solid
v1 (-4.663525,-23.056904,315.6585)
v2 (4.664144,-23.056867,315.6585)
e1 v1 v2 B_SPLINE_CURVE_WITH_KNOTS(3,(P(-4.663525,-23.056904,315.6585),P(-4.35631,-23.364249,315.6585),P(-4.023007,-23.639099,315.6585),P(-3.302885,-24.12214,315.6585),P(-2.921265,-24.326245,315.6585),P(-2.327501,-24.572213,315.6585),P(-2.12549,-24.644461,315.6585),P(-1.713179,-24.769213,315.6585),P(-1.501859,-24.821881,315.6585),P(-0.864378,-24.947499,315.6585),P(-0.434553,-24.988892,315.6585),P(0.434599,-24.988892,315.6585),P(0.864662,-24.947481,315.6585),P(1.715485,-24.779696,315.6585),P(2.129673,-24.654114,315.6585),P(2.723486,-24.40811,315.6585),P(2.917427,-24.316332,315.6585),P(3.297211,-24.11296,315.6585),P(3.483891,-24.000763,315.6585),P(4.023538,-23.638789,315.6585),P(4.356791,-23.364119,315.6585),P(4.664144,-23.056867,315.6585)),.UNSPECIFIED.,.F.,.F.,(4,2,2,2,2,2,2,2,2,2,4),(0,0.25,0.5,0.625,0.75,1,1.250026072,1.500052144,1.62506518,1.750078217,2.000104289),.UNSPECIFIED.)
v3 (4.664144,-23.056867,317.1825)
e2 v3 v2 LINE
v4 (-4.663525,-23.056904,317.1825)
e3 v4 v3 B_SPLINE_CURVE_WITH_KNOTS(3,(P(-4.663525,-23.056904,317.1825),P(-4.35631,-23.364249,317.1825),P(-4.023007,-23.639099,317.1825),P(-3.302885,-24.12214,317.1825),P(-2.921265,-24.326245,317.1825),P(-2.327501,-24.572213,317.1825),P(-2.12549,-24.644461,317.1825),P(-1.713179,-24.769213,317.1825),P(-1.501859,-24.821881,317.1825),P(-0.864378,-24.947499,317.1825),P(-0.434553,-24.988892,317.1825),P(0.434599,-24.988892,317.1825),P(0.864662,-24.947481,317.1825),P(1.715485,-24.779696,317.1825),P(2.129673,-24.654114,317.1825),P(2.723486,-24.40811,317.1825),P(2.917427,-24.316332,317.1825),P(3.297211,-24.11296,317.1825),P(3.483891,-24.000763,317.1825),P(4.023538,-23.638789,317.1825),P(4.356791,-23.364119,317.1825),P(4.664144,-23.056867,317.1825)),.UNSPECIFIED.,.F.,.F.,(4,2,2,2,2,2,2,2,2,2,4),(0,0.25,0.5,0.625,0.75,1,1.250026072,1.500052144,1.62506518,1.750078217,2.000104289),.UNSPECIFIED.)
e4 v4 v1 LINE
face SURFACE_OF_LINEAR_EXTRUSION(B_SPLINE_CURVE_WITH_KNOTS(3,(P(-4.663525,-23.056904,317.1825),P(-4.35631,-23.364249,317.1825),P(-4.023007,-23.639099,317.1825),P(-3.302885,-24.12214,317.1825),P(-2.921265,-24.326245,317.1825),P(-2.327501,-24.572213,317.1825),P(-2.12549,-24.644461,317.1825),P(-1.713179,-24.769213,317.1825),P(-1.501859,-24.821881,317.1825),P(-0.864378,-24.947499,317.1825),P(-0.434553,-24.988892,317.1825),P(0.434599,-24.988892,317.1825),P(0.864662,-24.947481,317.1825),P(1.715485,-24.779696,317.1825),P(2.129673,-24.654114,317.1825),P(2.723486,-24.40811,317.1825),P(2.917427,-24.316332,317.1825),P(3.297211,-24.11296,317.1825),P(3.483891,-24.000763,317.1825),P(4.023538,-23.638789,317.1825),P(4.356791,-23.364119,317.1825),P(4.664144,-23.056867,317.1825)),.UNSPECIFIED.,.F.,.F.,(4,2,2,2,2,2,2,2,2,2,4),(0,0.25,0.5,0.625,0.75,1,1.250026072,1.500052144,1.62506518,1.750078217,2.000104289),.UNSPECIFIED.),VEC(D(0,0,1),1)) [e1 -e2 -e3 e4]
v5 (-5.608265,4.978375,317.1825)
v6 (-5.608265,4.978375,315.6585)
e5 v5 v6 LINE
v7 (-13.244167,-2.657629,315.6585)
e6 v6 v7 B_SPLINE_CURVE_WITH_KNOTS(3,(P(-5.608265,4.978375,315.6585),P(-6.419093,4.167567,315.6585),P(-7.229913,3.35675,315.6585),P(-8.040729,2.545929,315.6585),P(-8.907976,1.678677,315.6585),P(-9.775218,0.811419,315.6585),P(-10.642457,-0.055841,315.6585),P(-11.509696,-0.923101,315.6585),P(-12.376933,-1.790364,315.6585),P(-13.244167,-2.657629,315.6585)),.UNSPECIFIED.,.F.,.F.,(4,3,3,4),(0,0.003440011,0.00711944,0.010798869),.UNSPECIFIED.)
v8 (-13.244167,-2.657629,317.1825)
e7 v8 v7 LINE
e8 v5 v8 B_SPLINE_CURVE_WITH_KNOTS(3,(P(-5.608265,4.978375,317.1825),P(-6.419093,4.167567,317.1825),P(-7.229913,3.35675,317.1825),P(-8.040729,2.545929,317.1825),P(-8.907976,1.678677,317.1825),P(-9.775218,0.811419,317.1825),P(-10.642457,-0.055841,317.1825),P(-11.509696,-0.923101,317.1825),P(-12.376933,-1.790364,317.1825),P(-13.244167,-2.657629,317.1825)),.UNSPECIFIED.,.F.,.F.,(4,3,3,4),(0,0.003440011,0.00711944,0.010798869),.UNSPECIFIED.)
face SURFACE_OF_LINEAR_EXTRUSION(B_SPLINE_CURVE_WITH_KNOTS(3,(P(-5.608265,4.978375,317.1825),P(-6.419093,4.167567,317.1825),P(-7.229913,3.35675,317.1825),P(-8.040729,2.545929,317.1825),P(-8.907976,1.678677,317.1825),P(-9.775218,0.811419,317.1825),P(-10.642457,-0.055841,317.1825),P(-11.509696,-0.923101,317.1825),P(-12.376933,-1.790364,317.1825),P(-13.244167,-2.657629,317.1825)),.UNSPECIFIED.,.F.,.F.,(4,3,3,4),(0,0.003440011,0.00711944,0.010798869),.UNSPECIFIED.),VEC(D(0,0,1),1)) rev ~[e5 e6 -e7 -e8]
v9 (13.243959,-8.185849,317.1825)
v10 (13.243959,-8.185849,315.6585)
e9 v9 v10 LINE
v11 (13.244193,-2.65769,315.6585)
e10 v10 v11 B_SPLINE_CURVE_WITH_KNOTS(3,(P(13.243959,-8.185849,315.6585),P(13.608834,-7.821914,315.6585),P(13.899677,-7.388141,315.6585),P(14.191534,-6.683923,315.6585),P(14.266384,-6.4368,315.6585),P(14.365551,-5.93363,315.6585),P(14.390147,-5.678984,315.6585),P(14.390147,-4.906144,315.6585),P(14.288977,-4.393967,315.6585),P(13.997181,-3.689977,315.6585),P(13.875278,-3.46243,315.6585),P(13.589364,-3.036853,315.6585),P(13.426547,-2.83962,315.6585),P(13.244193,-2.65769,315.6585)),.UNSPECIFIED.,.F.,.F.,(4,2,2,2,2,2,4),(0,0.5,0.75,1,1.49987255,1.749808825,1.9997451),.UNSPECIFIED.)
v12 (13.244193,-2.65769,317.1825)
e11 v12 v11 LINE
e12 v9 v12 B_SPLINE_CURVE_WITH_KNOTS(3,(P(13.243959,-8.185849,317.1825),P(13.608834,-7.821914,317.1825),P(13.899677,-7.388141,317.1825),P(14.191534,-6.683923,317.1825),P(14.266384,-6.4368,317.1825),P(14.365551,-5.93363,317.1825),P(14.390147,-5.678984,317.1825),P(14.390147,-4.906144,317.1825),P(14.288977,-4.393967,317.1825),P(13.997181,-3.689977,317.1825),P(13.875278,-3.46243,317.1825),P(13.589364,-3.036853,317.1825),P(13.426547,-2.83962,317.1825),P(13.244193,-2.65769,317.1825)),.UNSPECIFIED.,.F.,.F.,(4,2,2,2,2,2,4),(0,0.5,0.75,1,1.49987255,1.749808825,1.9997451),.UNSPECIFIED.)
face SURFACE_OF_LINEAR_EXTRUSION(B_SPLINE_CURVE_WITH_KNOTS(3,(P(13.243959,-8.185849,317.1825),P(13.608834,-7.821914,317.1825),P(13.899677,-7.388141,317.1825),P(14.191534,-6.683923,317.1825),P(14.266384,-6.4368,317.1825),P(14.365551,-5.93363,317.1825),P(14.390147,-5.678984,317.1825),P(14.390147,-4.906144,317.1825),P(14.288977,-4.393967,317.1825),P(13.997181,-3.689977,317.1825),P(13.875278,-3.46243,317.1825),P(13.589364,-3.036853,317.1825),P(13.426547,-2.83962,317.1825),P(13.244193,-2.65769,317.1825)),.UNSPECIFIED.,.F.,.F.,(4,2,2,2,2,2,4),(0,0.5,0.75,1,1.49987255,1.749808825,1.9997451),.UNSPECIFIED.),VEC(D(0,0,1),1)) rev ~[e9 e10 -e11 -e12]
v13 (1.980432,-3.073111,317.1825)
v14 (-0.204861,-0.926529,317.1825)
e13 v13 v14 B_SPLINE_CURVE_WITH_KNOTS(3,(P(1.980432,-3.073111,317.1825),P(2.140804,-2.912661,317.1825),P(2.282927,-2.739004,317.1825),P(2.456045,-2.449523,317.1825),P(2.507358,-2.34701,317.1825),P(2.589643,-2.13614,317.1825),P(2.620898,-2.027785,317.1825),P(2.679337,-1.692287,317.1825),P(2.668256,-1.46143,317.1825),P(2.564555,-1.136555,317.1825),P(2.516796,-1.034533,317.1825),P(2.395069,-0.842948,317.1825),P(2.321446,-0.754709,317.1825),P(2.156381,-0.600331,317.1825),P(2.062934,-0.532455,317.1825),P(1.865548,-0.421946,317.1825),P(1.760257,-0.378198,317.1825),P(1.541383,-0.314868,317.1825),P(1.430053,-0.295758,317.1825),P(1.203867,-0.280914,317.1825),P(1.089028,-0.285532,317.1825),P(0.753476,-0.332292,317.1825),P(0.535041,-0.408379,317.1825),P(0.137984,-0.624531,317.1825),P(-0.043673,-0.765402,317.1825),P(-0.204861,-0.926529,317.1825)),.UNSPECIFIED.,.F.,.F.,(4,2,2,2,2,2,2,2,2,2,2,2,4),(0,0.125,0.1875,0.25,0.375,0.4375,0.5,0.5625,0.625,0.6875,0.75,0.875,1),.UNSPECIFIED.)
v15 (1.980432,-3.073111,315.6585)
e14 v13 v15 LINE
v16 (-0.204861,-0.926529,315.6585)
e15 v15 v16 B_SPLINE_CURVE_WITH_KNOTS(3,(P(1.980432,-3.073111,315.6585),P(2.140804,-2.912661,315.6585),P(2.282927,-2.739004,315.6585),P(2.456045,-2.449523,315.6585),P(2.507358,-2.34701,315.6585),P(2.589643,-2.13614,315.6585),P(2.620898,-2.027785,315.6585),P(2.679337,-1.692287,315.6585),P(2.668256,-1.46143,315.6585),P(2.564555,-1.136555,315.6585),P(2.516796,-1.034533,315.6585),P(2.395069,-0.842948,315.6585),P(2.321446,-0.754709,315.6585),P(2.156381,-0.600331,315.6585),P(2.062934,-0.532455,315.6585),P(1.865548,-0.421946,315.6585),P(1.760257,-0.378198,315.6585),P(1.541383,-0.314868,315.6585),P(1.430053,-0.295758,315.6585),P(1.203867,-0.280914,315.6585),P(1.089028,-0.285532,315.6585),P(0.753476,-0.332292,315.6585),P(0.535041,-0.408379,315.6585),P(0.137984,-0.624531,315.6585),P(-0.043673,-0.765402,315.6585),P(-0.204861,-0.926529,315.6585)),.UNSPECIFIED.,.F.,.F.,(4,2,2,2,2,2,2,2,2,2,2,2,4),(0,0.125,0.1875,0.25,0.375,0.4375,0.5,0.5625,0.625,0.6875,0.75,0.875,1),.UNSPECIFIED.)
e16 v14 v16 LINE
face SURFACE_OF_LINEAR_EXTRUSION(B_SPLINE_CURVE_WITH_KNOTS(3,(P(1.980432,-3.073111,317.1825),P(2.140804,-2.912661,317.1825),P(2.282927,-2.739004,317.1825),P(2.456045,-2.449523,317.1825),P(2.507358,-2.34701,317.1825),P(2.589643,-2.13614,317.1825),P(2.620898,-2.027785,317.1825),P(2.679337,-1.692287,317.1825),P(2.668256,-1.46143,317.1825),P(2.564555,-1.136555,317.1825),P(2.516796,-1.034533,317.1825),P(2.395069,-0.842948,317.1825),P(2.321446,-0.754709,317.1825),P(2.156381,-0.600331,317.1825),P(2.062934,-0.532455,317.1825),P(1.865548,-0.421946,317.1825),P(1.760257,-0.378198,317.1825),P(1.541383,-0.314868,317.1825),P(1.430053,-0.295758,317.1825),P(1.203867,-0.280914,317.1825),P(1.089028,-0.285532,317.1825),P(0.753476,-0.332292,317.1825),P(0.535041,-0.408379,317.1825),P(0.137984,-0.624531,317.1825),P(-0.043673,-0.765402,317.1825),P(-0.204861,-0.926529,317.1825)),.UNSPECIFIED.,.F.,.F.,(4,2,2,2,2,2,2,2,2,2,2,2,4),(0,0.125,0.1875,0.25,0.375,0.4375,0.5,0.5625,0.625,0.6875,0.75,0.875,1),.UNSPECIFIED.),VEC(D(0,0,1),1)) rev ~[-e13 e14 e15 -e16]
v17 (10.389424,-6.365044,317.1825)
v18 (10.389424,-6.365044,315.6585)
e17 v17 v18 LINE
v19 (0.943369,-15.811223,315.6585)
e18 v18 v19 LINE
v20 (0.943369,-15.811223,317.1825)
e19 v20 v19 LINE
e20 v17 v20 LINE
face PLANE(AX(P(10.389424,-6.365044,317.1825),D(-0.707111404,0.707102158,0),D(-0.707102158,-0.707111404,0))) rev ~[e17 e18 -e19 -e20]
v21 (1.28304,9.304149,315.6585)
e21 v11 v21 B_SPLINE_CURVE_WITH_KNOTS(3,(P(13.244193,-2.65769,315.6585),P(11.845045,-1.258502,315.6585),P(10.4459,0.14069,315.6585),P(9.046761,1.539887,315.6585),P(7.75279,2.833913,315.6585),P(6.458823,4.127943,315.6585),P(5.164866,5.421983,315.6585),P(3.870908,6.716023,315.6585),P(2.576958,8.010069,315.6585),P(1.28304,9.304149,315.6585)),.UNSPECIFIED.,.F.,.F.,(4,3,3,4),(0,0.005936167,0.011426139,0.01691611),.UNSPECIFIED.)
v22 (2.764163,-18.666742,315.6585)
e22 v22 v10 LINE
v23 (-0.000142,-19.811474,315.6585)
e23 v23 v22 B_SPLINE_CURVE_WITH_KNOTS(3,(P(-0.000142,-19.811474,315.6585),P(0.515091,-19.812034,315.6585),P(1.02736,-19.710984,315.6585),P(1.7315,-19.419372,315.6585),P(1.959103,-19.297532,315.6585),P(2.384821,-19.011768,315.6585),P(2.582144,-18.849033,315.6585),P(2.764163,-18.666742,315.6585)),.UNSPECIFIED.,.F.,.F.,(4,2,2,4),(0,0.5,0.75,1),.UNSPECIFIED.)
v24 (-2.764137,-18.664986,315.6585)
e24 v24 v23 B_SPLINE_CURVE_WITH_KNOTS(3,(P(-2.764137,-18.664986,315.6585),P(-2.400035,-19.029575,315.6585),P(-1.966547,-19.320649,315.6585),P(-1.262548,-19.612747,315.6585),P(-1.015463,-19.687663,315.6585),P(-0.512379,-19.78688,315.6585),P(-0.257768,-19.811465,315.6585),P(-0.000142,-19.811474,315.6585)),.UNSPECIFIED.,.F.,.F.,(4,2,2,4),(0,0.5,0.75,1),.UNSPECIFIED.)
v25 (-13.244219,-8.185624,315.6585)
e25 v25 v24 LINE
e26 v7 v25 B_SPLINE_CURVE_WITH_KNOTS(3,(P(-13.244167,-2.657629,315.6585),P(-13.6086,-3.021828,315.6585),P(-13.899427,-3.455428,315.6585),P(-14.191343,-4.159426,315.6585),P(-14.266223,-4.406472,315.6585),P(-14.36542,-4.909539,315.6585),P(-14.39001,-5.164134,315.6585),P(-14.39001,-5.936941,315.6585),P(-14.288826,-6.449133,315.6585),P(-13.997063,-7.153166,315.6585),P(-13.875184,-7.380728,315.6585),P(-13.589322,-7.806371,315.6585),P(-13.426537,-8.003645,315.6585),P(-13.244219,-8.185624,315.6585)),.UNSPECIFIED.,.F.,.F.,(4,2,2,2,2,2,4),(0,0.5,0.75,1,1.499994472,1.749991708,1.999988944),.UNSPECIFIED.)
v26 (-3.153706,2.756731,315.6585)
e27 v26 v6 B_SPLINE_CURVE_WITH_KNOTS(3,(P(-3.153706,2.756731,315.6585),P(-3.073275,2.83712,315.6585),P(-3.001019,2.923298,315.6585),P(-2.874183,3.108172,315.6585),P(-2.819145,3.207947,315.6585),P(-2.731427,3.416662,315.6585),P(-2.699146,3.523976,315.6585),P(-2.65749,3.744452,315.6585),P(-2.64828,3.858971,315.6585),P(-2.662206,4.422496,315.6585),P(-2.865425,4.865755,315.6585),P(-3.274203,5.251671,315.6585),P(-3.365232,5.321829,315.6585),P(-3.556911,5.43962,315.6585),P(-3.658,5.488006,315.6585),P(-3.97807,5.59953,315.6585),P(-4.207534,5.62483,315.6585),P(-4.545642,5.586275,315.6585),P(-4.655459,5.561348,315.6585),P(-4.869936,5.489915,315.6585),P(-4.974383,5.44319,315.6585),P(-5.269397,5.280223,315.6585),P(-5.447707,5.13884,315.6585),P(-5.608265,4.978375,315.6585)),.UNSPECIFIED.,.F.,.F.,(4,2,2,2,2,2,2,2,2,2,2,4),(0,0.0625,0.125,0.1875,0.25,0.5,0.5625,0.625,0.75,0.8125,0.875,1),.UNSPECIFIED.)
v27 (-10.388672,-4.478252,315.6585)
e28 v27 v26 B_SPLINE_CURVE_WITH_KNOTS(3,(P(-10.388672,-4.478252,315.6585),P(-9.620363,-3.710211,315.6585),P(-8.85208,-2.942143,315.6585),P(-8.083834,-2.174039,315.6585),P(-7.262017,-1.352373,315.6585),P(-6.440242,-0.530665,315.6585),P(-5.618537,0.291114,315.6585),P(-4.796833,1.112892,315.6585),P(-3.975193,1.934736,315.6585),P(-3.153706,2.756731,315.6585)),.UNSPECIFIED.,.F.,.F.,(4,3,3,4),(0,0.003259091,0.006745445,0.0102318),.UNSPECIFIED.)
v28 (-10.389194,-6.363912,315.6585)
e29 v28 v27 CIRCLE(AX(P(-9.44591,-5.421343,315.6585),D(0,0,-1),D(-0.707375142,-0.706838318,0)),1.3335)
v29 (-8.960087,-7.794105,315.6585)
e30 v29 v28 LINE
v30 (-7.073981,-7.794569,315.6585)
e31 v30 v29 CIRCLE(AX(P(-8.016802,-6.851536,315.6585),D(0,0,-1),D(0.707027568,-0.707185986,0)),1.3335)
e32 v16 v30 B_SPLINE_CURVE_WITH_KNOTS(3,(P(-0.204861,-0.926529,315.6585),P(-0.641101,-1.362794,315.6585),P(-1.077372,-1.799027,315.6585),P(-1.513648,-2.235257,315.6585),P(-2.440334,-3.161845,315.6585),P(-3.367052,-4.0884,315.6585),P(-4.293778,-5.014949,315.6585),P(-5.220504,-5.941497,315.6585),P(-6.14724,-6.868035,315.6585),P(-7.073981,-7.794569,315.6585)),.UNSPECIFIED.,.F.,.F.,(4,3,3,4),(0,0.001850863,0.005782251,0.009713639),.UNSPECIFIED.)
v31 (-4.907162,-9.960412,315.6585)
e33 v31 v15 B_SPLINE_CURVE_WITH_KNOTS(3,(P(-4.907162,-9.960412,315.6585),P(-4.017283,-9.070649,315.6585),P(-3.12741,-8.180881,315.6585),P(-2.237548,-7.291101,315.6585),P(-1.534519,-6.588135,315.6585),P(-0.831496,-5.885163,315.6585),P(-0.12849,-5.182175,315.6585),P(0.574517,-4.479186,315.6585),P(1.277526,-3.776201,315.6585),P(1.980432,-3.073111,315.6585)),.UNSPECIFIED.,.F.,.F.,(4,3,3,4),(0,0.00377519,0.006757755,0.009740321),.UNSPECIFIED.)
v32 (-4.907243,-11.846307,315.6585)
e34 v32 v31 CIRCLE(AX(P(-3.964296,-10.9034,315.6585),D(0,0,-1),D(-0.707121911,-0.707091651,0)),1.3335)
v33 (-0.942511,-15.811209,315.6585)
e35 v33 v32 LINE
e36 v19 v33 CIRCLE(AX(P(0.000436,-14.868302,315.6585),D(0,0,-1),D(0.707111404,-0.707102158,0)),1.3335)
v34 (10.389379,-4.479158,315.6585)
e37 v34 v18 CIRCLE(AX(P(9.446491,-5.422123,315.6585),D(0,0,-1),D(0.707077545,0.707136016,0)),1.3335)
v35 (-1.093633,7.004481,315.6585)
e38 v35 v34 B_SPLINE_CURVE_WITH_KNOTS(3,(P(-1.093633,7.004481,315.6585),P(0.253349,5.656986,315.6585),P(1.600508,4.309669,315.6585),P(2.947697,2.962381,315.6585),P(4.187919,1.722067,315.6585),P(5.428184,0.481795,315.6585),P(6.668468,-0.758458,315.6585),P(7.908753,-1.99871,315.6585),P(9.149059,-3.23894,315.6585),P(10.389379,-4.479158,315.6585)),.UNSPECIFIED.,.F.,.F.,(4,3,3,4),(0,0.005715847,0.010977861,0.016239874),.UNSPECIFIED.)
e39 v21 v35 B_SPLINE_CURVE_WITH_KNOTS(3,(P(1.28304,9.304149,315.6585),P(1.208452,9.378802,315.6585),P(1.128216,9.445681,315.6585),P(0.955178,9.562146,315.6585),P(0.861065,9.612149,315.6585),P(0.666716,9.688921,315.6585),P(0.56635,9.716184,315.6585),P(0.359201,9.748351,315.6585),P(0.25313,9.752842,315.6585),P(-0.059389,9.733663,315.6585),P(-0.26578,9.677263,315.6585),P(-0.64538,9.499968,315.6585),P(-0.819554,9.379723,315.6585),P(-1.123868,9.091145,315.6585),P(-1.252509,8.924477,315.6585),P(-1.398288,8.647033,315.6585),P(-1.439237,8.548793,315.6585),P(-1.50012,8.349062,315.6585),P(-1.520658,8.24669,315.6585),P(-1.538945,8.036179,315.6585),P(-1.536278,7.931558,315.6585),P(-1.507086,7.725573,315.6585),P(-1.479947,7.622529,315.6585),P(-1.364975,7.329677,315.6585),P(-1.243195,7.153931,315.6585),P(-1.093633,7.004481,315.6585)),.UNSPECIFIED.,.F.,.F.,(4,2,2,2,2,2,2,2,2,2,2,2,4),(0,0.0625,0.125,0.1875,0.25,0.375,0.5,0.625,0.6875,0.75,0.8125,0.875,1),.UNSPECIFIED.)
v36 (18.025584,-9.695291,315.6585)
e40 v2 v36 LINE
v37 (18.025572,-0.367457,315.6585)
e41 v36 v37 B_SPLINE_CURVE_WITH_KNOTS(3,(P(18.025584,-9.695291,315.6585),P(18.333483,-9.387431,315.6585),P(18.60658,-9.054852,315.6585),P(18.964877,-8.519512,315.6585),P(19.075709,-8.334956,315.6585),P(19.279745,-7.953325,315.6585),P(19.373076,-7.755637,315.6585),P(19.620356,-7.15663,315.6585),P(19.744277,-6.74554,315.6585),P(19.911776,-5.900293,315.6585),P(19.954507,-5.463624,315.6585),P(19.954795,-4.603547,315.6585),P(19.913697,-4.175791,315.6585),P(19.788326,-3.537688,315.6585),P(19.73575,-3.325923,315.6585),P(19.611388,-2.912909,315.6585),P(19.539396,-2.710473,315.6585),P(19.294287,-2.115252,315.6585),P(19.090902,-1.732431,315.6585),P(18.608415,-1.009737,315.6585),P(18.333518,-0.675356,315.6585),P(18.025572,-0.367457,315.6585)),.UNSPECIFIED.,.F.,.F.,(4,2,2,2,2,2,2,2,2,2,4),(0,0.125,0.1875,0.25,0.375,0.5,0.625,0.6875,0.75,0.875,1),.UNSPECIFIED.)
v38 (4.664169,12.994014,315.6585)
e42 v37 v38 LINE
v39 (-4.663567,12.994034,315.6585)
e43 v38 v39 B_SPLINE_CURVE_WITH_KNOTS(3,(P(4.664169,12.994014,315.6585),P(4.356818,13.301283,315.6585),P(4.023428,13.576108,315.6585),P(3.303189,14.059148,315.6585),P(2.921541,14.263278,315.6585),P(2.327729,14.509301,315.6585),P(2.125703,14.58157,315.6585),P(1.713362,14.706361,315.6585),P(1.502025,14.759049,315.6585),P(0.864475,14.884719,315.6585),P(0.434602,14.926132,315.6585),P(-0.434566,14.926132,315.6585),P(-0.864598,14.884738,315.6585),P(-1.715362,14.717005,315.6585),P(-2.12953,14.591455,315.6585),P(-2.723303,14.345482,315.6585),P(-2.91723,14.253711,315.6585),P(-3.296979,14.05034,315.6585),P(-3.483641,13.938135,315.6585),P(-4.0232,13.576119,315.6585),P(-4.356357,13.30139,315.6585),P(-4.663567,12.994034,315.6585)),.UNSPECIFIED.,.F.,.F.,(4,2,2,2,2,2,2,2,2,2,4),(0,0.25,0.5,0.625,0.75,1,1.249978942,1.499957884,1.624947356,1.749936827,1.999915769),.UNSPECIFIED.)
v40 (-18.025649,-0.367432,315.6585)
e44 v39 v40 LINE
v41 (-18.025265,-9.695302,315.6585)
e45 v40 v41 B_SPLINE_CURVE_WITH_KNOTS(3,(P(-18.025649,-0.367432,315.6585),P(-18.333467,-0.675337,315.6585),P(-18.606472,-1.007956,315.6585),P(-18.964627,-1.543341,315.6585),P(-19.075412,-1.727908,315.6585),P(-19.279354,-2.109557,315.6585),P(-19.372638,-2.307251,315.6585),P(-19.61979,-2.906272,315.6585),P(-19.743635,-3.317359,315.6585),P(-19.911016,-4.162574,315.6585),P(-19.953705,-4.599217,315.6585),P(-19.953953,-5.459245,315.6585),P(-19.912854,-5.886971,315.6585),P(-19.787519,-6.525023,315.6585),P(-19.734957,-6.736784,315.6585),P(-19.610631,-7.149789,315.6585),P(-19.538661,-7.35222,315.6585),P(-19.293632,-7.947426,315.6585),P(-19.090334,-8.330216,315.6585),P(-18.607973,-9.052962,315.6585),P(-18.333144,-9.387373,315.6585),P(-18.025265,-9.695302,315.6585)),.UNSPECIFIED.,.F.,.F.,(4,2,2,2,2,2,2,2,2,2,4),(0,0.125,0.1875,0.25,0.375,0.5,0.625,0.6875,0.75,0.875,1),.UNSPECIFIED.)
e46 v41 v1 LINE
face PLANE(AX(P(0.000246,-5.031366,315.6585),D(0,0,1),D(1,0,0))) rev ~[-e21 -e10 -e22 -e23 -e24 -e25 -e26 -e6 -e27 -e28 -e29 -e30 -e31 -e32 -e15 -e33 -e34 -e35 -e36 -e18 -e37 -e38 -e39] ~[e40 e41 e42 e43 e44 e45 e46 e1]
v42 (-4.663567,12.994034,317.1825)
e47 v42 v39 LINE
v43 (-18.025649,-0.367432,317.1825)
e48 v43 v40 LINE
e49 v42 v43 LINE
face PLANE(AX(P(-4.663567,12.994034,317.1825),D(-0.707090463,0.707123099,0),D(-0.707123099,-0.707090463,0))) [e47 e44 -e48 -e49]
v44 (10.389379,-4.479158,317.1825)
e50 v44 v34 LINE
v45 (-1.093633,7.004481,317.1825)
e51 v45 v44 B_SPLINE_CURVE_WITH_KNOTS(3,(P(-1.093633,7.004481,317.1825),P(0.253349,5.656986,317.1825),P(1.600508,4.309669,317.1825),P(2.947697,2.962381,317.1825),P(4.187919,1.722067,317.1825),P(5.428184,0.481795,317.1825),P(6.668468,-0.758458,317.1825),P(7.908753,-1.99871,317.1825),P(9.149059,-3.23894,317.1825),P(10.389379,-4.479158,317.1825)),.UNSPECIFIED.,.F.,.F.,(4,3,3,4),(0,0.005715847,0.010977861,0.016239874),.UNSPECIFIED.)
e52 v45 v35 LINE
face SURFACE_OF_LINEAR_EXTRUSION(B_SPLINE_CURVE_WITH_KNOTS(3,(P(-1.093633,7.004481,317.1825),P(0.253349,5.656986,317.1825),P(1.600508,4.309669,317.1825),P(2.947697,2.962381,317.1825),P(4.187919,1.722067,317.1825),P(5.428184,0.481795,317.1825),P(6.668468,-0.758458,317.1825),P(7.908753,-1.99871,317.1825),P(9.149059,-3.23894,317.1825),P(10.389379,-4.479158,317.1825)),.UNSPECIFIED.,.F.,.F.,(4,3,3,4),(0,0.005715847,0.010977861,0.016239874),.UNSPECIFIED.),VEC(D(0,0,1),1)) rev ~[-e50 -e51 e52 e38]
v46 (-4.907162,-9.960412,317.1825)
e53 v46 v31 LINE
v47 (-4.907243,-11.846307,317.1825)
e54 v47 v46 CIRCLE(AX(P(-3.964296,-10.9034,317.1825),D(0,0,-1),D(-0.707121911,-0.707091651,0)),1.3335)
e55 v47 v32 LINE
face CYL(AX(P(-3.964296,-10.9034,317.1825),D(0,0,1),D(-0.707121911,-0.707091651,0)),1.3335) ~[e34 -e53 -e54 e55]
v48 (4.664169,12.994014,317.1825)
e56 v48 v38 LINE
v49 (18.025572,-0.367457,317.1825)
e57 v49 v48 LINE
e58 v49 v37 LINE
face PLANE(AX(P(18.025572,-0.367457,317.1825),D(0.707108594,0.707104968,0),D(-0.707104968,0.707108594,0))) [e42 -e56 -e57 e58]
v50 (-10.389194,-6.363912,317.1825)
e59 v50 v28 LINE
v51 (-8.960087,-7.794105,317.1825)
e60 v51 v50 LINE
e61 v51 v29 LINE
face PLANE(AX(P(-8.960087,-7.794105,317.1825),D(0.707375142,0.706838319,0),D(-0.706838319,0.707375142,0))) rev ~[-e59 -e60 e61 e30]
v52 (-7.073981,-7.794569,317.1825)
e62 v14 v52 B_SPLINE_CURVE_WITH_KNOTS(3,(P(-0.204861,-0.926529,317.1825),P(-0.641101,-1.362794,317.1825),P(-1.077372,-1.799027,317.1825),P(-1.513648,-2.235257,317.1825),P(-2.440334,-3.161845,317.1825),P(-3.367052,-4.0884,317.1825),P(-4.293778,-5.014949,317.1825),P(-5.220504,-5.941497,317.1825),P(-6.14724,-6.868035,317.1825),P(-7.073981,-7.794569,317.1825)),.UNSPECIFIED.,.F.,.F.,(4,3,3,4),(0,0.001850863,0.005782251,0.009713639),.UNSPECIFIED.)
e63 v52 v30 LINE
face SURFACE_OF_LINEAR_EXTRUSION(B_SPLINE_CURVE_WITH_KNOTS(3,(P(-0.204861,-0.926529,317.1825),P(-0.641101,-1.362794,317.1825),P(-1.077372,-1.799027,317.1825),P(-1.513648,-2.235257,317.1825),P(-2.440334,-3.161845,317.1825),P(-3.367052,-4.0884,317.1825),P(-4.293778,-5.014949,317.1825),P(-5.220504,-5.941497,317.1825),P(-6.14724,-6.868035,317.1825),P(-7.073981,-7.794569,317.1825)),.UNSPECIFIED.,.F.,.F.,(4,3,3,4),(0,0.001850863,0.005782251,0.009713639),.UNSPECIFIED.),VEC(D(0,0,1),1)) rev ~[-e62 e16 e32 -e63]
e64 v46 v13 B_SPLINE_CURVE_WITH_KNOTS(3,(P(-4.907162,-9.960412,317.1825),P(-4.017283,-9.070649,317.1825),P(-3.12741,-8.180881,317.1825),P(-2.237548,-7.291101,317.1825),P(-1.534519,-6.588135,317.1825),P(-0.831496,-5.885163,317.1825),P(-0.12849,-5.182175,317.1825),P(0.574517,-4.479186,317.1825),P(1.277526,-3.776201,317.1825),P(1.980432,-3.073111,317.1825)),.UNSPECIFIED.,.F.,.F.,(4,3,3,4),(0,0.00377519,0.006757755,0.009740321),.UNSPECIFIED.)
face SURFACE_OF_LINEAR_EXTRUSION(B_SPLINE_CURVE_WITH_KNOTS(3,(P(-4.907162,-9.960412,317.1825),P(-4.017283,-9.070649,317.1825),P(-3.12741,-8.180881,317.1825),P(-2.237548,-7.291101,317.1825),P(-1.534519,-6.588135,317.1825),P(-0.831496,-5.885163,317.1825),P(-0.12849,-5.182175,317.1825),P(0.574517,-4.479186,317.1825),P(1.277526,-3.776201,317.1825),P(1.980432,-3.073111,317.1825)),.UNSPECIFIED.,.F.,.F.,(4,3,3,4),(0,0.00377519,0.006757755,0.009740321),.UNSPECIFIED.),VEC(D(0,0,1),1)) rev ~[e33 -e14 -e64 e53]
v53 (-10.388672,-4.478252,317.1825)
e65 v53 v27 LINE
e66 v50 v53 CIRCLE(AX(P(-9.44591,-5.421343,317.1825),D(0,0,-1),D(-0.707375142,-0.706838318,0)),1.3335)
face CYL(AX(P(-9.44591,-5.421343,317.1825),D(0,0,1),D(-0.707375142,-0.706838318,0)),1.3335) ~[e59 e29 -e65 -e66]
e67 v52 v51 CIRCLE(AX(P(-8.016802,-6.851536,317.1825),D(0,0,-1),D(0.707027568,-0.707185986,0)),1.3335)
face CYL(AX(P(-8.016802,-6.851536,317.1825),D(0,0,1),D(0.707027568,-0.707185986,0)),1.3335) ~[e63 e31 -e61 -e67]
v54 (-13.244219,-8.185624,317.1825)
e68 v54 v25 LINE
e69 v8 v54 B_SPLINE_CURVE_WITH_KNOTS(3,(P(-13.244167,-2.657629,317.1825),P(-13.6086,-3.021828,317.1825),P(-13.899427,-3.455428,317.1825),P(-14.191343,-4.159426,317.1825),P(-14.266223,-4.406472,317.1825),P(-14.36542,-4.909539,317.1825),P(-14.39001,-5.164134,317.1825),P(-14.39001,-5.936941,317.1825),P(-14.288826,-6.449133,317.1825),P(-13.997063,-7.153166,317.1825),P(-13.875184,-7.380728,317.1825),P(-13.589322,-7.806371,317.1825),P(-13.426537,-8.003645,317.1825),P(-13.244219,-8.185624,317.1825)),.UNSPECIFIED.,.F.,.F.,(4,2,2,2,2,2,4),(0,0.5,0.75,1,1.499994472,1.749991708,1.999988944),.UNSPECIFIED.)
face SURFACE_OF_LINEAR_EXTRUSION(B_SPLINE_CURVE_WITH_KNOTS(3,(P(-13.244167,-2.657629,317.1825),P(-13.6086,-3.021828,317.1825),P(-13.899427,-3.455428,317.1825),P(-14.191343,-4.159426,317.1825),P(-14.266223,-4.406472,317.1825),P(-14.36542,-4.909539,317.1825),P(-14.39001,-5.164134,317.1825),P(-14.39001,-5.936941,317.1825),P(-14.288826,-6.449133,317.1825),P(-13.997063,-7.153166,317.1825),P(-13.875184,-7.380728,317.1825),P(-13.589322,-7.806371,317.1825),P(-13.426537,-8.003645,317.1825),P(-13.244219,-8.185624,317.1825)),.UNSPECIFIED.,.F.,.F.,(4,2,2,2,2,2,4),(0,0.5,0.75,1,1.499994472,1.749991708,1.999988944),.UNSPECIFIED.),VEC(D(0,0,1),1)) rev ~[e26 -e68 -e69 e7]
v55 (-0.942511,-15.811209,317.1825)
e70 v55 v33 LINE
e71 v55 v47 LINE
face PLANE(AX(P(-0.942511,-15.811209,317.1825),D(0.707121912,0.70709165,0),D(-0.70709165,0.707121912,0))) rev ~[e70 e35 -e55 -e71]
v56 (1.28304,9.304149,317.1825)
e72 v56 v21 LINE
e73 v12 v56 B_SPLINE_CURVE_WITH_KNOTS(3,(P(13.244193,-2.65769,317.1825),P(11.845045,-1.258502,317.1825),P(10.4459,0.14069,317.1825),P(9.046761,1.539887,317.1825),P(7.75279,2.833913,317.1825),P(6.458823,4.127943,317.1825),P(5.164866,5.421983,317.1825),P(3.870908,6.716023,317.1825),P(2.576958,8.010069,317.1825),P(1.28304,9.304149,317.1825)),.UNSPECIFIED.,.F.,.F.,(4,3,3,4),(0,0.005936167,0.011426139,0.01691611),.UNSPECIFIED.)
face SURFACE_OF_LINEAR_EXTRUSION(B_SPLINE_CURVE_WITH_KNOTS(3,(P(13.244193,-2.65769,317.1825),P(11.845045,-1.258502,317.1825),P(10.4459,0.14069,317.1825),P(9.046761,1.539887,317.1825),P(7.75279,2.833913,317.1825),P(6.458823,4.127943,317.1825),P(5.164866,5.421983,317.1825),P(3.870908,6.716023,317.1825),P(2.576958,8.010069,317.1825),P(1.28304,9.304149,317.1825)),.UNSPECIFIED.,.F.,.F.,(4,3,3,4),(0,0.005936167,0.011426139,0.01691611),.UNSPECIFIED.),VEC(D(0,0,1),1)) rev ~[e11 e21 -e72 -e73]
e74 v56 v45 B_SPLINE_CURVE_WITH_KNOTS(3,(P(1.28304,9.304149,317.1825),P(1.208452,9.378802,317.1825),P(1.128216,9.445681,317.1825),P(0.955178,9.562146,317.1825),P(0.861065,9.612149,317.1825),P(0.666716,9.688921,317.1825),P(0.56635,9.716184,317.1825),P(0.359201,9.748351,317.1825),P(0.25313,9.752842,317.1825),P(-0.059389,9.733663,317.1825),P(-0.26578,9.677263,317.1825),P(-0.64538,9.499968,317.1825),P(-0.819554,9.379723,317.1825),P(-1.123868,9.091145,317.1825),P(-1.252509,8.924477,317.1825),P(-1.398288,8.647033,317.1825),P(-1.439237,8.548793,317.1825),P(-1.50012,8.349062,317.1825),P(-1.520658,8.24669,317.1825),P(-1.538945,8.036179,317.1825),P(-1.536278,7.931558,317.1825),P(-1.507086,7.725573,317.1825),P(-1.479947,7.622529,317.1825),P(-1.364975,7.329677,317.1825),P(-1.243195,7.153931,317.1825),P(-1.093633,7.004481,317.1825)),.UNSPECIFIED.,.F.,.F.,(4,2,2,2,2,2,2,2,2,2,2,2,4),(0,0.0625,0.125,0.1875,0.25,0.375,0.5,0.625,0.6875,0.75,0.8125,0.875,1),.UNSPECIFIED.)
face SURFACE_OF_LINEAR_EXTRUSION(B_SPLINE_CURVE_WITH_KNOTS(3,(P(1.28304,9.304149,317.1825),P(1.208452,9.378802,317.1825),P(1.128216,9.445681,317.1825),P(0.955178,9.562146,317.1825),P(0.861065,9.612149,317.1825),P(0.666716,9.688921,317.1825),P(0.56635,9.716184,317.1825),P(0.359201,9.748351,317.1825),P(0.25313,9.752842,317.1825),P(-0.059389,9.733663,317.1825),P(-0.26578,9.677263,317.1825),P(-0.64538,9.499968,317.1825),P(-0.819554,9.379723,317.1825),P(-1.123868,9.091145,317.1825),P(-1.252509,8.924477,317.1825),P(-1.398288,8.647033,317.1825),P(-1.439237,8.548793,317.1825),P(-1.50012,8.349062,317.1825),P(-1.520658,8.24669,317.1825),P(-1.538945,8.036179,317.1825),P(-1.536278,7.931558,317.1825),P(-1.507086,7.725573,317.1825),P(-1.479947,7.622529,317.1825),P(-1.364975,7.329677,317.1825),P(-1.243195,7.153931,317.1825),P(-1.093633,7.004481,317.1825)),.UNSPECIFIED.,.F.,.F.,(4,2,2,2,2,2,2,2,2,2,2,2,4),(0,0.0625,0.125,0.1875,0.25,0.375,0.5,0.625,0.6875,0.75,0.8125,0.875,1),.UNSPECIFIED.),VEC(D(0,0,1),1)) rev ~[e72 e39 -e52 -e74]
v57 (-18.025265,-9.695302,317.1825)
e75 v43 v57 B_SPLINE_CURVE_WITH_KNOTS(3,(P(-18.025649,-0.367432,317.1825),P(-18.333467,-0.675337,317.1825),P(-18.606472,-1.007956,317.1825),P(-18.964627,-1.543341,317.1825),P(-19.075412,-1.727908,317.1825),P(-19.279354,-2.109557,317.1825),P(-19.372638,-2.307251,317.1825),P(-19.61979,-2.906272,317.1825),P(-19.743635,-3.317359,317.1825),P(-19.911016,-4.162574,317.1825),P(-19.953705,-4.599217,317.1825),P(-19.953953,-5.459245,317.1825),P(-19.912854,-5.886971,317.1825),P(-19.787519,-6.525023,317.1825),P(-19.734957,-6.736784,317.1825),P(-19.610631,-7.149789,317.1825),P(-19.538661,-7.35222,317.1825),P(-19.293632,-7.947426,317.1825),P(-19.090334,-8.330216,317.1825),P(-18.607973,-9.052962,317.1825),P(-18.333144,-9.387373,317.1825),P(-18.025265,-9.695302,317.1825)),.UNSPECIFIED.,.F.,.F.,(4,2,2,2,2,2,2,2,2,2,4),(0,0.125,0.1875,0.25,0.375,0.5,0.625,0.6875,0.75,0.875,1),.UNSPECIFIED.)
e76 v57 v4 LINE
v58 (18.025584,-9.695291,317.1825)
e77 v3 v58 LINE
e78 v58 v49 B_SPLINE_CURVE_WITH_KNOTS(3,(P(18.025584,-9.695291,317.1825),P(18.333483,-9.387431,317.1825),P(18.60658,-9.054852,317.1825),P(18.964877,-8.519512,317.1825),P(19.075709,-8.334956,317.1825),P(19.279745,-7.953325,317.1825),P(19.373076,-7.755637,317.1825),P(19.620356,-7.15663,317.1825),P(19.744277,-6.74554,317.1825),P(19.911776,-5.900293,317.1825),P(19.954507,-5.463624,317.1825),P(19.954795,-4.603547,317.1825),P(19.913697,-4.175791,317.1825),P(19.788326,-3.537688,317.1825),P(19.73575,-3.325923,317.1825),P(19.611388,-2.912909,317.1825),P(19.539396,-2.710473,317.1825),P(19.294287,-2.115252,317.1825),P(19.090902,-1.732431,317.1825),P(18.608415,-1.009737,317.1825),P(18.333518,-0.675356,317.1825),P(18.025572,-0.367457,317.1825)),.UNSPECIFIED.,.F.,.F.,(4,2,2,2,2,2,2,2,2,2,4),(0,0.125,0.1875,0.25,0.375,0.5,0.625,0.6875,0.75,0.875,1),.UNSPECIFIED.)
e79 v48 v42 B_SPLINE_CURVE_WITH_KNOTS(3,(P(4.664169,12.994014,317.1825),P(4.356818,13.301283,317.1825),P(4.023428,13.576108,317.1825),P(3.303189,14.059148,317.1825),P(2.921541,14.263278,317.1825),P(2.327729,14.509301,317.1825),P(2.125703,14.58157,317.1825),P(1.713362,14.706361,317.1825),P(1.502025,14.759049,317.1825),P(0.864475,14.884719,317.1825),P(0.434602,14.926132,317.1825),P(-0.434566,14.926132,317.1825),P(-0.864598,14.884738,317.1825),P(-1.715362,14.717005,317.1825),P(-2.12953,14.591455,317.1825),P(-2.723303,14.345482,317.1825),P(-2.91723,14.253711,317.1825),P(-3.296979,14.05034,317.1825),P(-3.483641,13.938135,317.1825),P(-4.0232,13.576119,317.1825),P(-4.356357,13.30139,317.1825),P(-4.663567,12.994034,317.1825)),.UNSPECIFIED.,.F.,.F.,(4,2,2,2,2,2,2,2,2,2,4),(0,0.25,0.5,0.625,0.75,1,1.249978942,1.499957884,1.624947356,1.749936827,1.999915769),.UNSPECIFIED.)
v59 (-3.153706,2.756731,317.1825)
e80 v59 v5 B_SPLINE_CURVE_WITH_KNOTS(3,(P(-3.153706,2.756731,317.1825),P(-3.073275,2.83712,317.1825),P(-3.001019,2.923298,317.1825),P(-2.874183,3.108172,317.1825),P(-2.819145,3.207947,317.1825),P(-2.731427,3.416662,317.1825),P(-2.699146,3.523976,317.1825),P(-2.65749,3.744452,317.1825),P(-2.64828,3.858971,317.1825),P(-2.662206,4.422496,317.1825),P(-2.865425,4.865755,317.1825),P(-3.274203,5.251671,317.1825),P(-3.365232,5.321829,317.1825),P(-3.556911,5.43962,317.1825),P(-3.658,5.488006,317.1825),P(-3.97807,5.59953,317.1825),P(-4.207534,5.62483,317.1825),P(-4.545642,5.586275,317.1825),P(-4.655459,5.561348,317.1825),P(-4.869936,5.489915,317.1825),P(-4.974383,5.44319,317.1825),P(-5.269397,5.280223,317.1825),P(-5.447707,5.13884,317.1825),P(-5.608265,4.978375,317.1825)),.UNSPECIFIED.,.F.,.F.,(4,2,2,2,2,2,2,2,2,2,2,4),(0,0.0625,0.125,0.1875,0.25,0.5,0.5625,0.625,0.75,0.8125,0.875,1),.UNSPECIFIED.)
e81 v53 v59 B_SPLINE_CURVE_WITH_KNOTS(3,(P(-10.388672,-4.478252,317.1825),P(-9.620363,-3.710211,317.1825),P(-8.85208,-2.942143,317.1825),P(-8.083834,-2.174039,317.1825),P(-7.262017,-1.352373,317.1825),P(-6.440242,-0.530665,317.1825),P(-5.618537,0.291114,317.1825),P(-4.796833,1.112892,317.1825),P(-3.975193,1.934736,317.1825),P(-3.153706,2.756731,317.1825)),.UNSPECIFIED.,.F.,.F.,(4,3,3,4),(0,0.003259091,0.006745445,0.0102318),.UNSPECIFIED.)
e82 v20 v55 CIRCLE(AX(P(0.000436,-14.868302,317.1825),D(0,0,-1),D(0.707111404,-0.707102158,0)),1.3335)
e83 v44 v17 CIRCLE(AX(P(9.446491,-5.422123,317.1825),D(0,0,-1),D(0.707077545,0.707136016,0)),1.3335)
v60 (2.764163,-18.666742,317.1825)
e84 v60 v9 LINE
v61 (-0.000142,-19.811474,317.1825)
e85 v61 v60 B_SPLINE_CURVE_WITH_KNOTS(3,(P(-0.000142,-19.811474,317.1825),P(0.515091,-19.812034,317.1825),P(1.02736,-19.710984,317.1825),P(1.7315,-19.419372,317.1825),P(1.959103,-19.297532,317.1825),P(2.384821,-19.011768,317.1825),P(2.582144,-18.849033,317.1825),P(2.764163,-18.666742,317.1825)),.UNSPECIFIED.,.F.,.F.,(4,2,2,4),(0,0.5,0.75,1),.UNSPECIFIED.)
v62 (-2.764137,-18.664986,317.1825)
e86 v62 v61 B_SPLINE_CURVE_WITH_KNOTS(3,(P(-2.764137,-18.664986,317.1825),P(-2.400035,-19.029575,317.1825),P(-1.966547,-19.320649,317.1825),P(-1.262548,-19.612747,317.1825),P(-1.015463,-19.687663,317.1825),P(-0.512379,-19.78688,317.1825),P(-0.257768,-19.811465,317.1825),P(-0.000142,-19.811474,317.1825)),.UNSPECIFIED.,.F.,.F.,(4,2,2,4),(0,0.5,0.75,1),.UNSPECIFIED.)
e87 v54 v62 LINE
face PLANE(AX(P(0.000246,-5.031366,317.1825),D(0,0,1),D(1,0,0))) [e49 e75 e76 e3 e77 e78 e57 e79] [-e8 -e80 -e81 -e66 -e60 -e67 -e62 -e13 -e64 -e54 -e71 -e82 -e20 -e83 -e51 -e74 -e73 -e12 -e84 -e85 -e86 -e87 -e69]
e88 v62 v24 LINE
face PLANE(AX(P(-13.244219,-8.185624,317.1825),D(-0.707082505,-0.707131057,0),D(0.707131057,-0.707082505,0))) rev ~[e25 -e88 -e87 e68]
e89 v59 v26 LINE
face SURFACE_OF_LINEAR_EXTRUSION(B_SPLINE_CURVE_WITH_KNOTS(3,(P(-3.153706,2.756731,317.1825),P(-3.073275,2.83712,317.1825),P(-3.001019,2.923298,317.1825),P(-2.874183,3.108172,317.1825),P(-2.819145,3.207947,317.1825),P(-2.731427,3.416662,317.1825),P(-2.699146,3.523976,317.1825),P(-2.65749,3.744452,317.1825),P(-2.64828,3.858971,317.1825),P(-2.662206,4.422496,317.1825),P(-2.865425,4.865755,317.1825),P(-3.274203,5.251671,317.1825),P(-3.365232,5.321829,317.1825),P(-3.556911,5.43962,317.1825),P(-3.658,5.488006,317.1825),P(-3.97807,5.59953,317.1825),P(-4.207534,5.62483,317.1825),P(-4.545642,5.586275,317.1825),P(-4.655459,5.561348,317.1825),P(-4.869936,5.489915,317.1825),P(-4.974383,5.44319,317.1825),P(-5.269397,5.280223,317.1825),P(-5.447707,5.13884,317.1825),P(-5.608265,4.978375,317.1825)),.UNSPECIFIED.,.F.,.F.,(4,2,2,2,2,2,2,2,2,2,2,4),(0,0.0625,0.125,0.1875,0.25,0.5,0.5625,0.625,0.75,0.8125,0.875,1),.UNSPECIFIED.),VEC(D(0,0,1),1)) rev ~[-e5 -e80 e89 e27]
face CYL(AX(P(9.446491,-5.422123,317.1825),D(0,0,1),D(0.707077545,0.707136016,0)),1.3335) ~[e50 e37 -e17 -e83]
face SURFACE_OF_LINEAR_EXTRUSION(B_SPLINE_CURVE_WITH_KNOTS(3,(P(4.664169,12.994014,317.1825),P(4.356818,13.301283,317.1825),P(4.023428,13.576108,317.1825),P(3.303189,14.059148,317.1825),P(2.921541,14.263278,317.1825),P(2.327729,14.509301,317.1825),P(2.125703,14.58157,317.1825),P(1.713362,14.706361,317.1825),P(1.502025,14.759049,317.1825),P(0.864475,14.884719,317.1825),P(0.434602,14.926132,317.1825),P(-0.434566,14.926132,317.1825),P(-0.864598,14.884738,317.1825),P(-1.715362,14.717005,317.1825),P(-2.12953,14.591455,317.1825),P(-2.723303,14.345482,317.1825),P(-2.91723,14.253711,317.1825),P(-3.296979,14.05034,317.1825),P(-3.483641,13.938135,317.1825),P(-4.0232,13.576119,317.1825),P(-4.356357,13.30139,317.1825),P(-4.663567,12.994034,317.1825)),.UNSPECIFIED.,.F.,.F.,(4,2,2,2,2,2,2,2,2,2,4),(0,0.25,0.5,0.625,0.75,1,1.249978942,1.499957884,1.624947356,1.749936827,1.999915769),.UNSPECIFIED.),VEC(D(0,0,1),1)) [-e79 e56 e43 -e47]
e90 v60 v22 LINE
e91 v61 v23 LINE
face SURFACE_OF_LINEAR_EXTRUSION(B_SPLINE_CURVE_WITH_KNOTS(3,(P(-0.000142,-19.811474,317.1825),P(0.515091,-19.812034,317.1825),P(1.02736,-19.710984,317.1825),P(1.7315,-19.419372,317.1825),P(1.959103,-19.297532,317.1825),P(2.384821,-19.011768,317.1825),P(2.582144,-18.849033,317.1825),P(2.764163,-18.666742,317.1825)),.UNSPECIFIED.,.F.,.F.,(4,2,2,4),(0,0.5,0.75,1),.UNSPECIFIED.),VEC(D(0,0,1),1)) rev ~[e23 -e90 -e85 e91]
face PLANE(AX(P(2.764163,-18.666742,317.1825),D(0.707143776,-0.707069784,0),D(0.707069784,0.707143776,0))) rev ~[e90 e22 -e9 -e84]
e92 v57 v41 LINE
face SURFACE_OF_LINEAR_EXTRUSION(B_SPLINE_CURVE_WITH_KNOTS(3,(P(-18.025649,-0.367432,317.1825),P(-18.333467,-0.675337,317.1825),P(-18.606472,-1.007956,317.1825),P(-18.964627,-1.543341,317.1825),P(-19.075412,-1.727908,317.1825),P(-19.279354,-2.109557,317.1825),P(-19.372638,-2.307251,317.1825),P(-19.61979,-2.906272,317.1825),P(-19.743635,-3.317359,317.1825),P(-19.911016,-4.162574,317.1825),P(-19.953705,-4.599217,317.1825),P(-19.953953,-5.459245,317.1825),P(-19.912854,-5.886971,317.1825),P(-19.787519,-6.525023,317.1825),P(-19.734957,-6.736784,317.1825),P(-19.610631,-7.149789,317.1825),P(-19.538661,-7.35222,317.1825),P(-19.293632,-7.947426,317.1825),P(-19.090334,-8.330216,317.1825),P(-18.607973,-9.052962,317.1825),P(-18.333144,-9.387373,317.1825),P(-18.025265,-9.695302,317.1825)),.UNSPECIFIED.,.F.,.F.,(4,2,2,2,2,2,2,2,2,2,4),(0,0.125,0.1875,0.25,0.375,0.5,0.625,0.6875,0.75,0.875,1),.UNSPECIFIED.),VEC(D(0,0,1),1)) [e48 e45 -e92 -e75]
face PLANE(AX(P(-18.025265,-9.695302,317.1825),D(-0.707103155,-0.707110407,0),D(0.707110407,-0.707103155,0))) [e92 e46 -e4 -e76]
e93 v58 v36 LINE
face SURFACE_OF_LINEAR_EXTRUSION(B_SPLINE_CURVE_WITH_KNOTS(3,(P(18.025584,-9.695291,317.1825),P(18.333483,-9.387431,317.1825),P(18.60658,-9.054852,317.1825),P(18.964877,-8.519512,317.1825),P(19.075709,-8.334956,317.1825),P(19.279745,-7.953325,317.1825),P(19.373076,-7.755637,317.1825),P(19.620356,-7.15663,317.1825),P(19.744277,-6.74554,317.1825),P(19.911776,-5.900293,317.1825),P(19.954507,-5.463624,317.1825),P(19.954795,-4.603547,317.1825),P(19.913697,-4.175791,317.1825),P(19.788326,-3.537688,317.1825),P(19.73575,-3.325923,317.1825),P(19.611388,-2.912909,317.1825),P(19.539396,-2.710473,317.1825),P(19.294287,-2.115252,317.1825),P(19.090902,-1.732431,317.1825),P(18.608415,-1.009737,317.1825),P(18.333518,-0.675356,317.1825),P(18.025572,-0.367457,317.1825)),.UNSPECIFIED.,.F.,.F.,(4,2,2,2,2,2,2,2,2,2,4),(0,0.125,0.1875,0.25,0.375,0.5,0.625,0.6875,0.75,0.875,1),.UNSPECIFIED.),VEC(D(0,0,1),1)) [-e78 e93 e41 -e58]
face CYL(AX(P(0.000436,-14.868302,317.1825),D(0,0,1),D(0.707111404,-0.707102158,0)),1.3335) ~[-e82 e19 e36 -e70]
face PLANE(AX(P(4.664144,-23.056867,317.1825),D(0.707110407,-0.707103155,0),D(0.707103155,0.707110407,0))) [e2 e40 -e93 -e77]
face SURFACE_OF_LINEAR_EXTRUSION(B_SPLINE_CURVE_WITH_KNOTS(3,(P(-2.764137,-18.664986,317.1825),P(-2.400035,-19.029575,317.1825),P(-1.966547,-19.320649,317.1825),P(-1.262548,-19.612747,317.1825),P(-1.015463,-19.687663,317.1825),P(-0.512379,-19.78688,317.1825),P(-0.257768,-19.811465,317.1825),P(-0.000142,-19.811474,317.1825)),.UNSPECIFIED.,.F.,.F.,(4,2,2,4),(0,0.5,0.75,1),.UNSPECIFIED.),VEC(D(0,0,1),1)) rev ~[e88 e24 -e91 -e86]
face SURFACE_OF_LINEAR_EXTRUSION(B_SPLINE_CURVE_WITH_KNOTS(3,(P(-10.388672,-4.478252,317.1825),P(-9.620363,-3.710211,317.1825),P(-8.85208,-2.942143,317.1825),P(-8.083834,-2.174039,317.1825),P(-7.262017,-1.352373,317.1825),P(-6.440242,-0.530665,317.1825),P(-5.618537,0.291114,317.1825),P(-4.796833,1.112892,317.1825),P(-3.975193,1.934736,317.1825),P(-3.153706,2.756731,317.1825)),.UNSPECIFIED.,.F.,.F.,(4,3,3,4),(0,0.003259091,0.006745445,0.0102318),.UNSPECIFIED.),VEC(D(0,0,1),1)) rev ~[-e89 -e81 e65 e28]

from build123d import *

# Parameters (mm, degrees)
INLAY_PROFILE_DEPTH = 1.524


with BuildPart() as part:
    # Sketch1 → Inlay Profile (new body)
    with BuildSketch(Plane.XY.offset(317.1825)):
        with BuildLine():
            Line((18.025571565, -0.367457164), (4.664168889, 12.994014038))
            add(Edge.make_bspline(
                [(4.664168889, 12.994014038), (4.356818389, 13.301283177), (4.023428442, 13.576107861), (3.303188568, 14.059147528), (2.921540553, 14.263277993), (2.327729087, 14.509301237), (2.125703276, 14.581569814), (1.713361811, 14.706360576), (1.502025353, 14.759048678), (0.864474651, 14.884719032), (0.434602166, 14.926131934), (0, 14.926131934)],
                knots=[0, 0, 0, 0, 0.25, 0.25, 0.5, 0.5, 0.625, 0.625, 0.75, 0.75, 1, 1, 1, 1], degree=3))
            add(Edge.make_bspline(
                [(0, 14.926131934), (-0.434565559, 14.926131934), (-0.864598328, 14.884737713), (-1.715362235, 14.717005142), (-2.129530035, 14.591455059), (-2.723303198, 14.345481802), (-2.91723014, 14.253710711), (-3.296979358, 14.050339945), (-3.483640779, 13.938135256), (-4.023200182, 13.576118838), (-4.356357054, 13.301389905), (-4.663566812, 12.994033668)],
                knots=[0, 0, 0, 0, 0.25, 0.25, 0.5, 0.5, 0.625, 0.625, 0.75, 0.75, 1, 1, 1, 1], degree=3))
            Line((-4.663566812, 12.994033668), (-18.025649465, -0.367432276))
            add(Edge.make_bspline(
                [(-18.025649465, -0.367432276), (-18.333467155, -0.67533686), (-18.606471867, -1.007956137), (-18.964627192, -1.543341075), (-19.075411795, -1.727908456), (-19.279353822, -2.109557241), (-19.372638179, -2.307251324), (-19.619790253, -2.906272044), (-19.743635222, -3.317359375), (-19.911015551, -4.162573597), (-19.953704554, -4.599216881), (-19.953952622, -5.459245308), (-19.912854372, -5.886970886), (-19.787519071, -6.525023338), (-19.734956892, -6.736784446), (-19.61063072, -7.149788503), (-19.538661355, -7.352219952), (-19.293631903, -7.947426043), (-19.090333968, -8.330215541), (-18.607972779, -9.052961748), (-18.333143835, -9.387372973), (-18.025264594, -9.695301528)],
                knots=[0, 0, 0, 0, 0.125, 0.125, 0.1875, 0.1875, 0.25, 0.25, 0.375, 0.375, 0.5, 0.5, 0.625, 0.625, 0.6875, 0.6875, 0.75, 0.75, 0.875, 0.875, 1, 1, 1, 1], degree=3))
            Line((-18.025264594, -9.695301528), (-4.663524615, -23.056904469))
            add(Edge.make_bspline(
                [(-4.663524615, -23.056904469), (-4.356310087, -23.364249214), (-4.023007479, -23.63909939), (-3.302884908, -24.122140042), (-2.921265042, -24.326244773), (-2.327500967, -24.572212863), (-2.12549016, -24.644461146), (-1.713179231, -24.769212535), (-1.501858849, -24.82188113), (-0.864378385, -24.94749901), (-0.434553406, -24.988892008), (0, -24.988892008)],
                knots=[0, 0, 0, 0, 0.25, 0.25, 0.5, 0.5, 0.625, 0.625, 0.75, 0.75, 1, 1, 1, 1], degree=3))
            add(Edge.make_bspline(
                [(0, -24.988892008), (0.434598725, -24.988892008), (0.864662427, -24.947480808), (1.715485434, -24.779696058), (2.129672534, -24.65411367), (2.723485659, -24.408109873), (2.917427142, -24.316331785), (3.29721076, -24.112960431), (3.48389071, -24.000763389), (4.02353835, -23.638788642), (4.356791056, -23.364119061), (4.664144191, -23.05686733)],
                knots=[0, 0, 0, 0, 0.25, 0.25, 0.5, 0.5, 0.625, 0.625, 0.75, 0.75, 1, 1, 1, 1], degree=3))
            Line((4.664144191, -23.05686733), (18.025583545, -9.695290931))
            add(Edge.make_bspline(
                [(18.025583545, -9.695290931), (18.333482821, -9.387431146), (18.606580042, -9.054852177), (18.964876906, -8.519511604), (19.07570919, -8.334956341), (19.279745495, -7.953324821), (19.373075727, -7.75563737), (19.620355994, -7.156630228), (19.744276575, -6.745539993), (19.911775941, -5.900292811), (19.954506627, -5.463624258), (19.954794901, -4.60354651), (19.913696633, -4.175791487), (19.788326474, -3.537687683), (19.735750086, -3.325922766), (19.611387505, -2.912908888), (19.539395757, -2.710472584), (19.294286623, -2.115252142), (19.090902314, -1.732430795), (18.608415217, -1.009737255), (18.333518116, -0.67535632), (18.025571565, -0.367457164)],
                knots=[0, 0, 0, 0, 0.125, 0.125, 0.1875, 0.1875, 0.25, 0.25, 0.375, 0.375, 0.5, 0.5, 0.625, 0.625, 0.6875, 0.6875, 0.75, 0.75, 0.875, 0.875, 1, 1, 1, 1], degree=3))
        make_face()
        with BuildLine():
            Line((2.764163115, -18.666741649), (13.243958907, -8.185849192))
            add(Edge.make_bspline(
                [(13.243958907, -8.185849192), (13.608833555, -7.821914197), (13.899676587, -7.388141491), (14.191534414, -6.683923004), (14.266383768, -6.43680018), (14.365551211, -5.933629733), (14.390147378, -5.678984441), (14.390147378, -5.42132701)],
                knots=[0, 0, 0, 0, 0.5, 0.5, 0.75, 0.75, 1, 1, 1, 1], degree=3))
            add(Edge.make_bspline(
                [(14.390147378, -5.42132701), (14.390147378, -4.906143502), (14.288977165, -4.393966558), (13.997180838, -3.689977029), (13.875278396, -3.462430015), (13.589364349, -3.036852796), (13.426546706, -2.839620383), (13.244193351, -2.657689678)],
                knots=[0, 0, 0, 0, 0.5, 0.5, 0.75, 0.75, 1, 1, 1, 1], degree=3))
            add(Edge.make_bspline(
                [(13.244193351, -2.657689678), (11.84504508, -1.258501699), (10.445900405, 0.14068981), (9.046761495, 1.539887083), (7.752789848, 2.833912707), (6.458822874, 4.127943003), (5.164865581, 5.421982981), (3.870908288, 6.716022958), (2.576957547, 8.010069489), (1.283039711, 9.304148919)],
                knots=[0, 0, 0, 0, 0.005936167, 0.005936167, 0.005936167, 0.011426139, 0.011426139, 0.011426139, 0.01691611, 0.01691611, 0.01691611, 0.01691611], degree=3))
            add(Edge.make_bspline(
                [(1.283039711, 9.304148919), (1.208451812, 9.37880166), (1.128215528, 9.445680851), (0.955177572, 9.562146218), (0.861064542, 9.612149298), (0.666716276, 9.688920917), (0.566349911, 9.716183545), (0.359200688, 9.74835085), (0.253130484, 9.752841938), (-0.059388996, 9.733662582), (-0.265779648, 9.677263143), (-0.64537994, 9.499967758), (-0.819554471, 9.379722795), (-1.123868056, 9.091145072), (-1.252509124, 8.924477208), (-1.398287945, 8.647032516), (-1.439236675, 8.548793299), (-1.500120392, 8.349062122), (-1.52065849, 8.24669022), (-1.538945102, 8.036179126), (-1.536277907, 7.931558062), (-1.507085794, 7.725573364), (-1.479946725, 7.622528868), (-1.364975159, 7.329677155), (-1.243195343, 7.153930867), (-1.093632727, 7.004481006)],
                knots=[0, 0, 0, 0, 0.0625, 0.0625, 0.125, 0.125, 0.1875, 0.1875, 0.25, 0.25, 0.375, 0.375, 0.5, 0.5, 0.625, 0.625, 0.6875, 0.6875, 0.75, 0.75, 0.8125, 0.8125, 0.875, 0.875, 1, 1, 1, 1], degree=3))
            add(Edge.make_bspline(
                [(-1.093632727, 7.004481006), (0.253348837, 5.656986284), (1.600507848, 4.309668958), (2.947696525, 2.962381313), (4.187919425, 1.722067304), (5.428183671, 0.481794636), (6.668468389, -0.758457558), (7.908753108, -1.998709755), (9.149059402, -3.238940377), (10.389379137, -4.479157555)],
                knots=[0, 0, 0, 0, 0.005715847, 0.005715847, 0.005715847, 0.010977861, 0.010977861, 0.010977861, 0.016239874, 0.016239874, 0.016239874, 0.016239874], degree=3))
            ThreePointArc((10.389379137, -4.479157555), (10.77999123, -5.422091507), (10.389424288, -6.36504416))
            Line((10.389424288, -6.36504416), (0.943369001, -15.811222968))
            ThreePointArc((0.943369001, -15.811222968), (0.000426035, -16.20180224), (-0.942511126, -15.811208956))
            Line((-0.942511126, -15.811208956), (-4.907243278, -11.846307125))
            ThreePointArc((-4.907243278, -11.846307125), (-5.297796208, -10.903342622), (-4.907161552, -9.960411971))
            add(Edge.make_bspline(
                [(-4.907161552, -9.960411971), (-4.017282762, -9.070649343), (-3.127409839, -8.180880848), (-2.237548499, -7.291100768), (-1.534518938, -6.588135406), (-0.831496023, -5.885163397), (-0.128489581, -5.182174915), (0.574516863, -4.47918643), (1.277525983, -3.776200612), (1.980431653, -3.073111364)],
                knots=[0, 0, 0, 0, 0.00377519, 0.00377519, 0.00377519, 0.006757755, 0.006757755, 0.006757755, 0.009740321, 0.009740321, 0.009740321, 0.009740321], degree=3))
            add(Edge.make_bspline(
                [(1.980431653, -3.073111364), (2.140804197, -2.912661242), (2.282926924, -2.73900393), (2.456044926, -2.449522576), (2.507357822, -2.3470096), (2.589643367, -2.13613991), (2.620897599, -2.027784662), (2.67933703, -1.692286826), (2.668256404, -1.461430231), (2.56455456, -1.136554805), (2.516796459, -1.034532881), (2.395068593, -0.842948012), (2.321446097, -0.754709164), (2.156381432, -0.600330836), (2.062934312, -0.532455362), (1.865547855, -0.421945587), (1.760257054, -0.378198331), (1.541383287, -0.314868209), (1.430053085, -0.29575808), (1.203867431, -0.280914383), (1.089027609, -0.285532444), (0.753475716, -0.332291796), (0.535040575, -0.408379414), (0.137984232, -0.6245314), (-0.043673421, -0.765401767), (-0.204860953, -0.926528537)],
                knots=[0, 0, 0, 0, 0.125, 0.125, 0.1875, 0.1875, 0.25, 0.25, 0.375, 0.375, 0.4375, 0.4375, 0.5, 0.5, 0.5625, 0.5625, 0.625, 0.625, 0.6875, 0.6875, 0.75, 0.75, 0.875, 0.875, 1, 1, 1, 1], degree=3))
            add(Edge.make_bspline(
                [(-0.204860953, -0.926528537), (-0.641101053, -1.362793519), (-1.077372199, -1.799027457), (-1.513647836, -2.235256899), (-2.440333949, -3.161844889), (-3.367052449, -4.088400488), (-4.293778224, -5.014948809), (-5.220504, -5.941497132), (-6.147239872, -6.868035357), (-7.073980722, -7.794568602)],
                knots=[0, 0, 0, 0, 0.001850863, 0.001850863, 0.001850863, 0.005782251, 0.005782251, 0.005782251, 0.009713639, 0.009713639, 0.009713639, 0.009713639], degree=3))
            ThreePointArc((-7.073980722, -7.794568602), (-8.017129764, -8.185036049), (-8.960086733, -7.794104987))
            Line((-8.960086733, -7.794104987), (-10.389194361, -6.363911994))
            ThreePointArc((-10.389194361, -6.363911994), (-10.779409558, -5.420973836), (-10.388672202, -4.478251932))
            add(Edge.make_bspline(
                [(-10.388672202, -4.478251932), (-9.620363184, -3.710210592), (-8.852080067, -2.942143342), (-8.083834335, -2.174038699), (-7.262017343, -1.352372632), (-6.440241976, -0.530664926), (-5.618537443, 0.291113605), (-4.796832885, 1.11289216), (-3.975193451, 1.934735858), (-3.153705857, 2.7567313)],
                knots=[0, 0, 0, 0, 0.003259091, 0.003259091, 0.003259091, 0.006745445, 0.006745445, 0.006745445, 0.0102318, 0.0102318, 0.0102318, 0.0102318], degree=3))
            add(Edge.make_bspline(
                [(-3.153705857, 2.7567313), (-3.073275327, 2.837120342), (-3.001018869, 2.923298121), (-2.874183174, 3.108172399), (-2.819145258, 3.207947086), (-2.731427392, 3.416662057), (-2.699146348, 3.523975917), (-2.657489826, 3.744452491), (-2.648280145, 3.858971027), (-2.662206408, 4.422495916), (-2.86542486, 4.865755486), (-3.274203407, 5.251671073), (-3.365231629, 5.321829449), (-3.556910695, 5.439619692), (-3.657999963, 5.488005812), (-3.978069809, 5.599529591), (-4.20753438, 5.624830423), (-4.545641744, 5.586274821), (-4.655458789, 5.56134804), (-4.869936225, 5.489914826), (-4.974382972, 5.443189754), (-5.269396668, 5.280222942), (-5.447707363, 5.138839656), (-5.608265037, 4.978375432)],
                knots=[0, 0, 0, 0, 0.0625, 0.0625, 0.125, 0.125, 0.1875, 0.1875, 0.25, 0.25, 0.5, 0.5, 0.5625, 0.5625, 0.625, 0.625, 0.75, 0.75, 0.8125, 0.8125, 0.875, 0.875, 1, 1, 1, 1], degree=3))
            add(Edge.make_bspline(
                [(-5.608265037, 4.978375432), (-6.419093367, 4.167567138), (-7.229912955, 3.356750104), (-8.04072861, 2.545929136), (-8.907975502, 1.67867656), (-9.775217571, 0.811419162), (-10.642456843, -0.055841034), (-11.509696114, -0.92310123), (-12.376932511, -1.7903643), (-13.244166976, -2.657629303)],
                knots=[0, 0, 0, 0, 0.003440011, 0.003440011, 0.003440011, 0.00711944, 0.00711944, 0.00711944, 0.010798869, 0.010798869, 0.010798869, 0.010798869], degree=3))
            add(Edge.make_bspline(
                [(-13.244166976, -2.657629303), (-13.608600195, -3.021827623), (-13.899427442, -3.455428378), (-14.191343401, -4.159425647), (-14.266223067, -4.406472325), (-14.365420486, -4.909539259), (-14.390010332, -5.164133807), (-14.390010332, -5.421738148)],
                knots=[0, 0, 0, 0, 0.5, 0.5, 0.75, 0.75, 1, 1, 1, 1], degree=3))
            add(Edge.make_bspline(
                [(-14.390010332, -5.421738148), (-14.390010332, -5.936941134), (-14.288825943, -6.449133342), (-13.997063, -7.153166102), (-13.875183954, -7.38072782), (-13.589321969, -7.806370664), (-13.426536962, -8.003645163), (-13.244218716, -8.185623942)],
                knots=[0, 0, 0, 0, 0.5, 0.5, 0.75, 0.75, 1, 1, 1, 1], degree=3))
            Line((-13.244218716, -8.185623942), (-2.764136748, -18.664986339))
            add(Edge.make_bspline(
                [(-2.764136748, -18.664986339), (-2.400035433, -19.029574977), (-1.966546507, -19.320649385), (-1.262547507, -19.612746574), (-1.015462867, -19.68766307), (-0.512378601, -19.786880045), (-0.257767564, -19.811465257), (-0.000142467, -19.811474386)],
                knots=[0, 0, 0, 0, 0.5, 0.5, 0.75, 0.75, 1, 1, 1, 1], degree=3))
            add(Edge.make_bspline(
                [(-0.000142467, -19.811474386), (0.515090813, -19.812034072), (1.027360033, -19.71098374), (1.731500271, -19.419371754), (1.959103087, -19.297532052), (2.384821027, -19.011767969), (2.582144098, -18.849033097), (2.764163115, -18.666741649)],
                knots=[0, 0, 0, 0, 0.5, 0.5, 0.75, 0.75, 1, 1, 1, 1], degree=3))
        make_face(mode=Mode.SUBTRACT)
    extrude(amount=-INLAY_PROFILE_DEPTH)


solid = part.part
